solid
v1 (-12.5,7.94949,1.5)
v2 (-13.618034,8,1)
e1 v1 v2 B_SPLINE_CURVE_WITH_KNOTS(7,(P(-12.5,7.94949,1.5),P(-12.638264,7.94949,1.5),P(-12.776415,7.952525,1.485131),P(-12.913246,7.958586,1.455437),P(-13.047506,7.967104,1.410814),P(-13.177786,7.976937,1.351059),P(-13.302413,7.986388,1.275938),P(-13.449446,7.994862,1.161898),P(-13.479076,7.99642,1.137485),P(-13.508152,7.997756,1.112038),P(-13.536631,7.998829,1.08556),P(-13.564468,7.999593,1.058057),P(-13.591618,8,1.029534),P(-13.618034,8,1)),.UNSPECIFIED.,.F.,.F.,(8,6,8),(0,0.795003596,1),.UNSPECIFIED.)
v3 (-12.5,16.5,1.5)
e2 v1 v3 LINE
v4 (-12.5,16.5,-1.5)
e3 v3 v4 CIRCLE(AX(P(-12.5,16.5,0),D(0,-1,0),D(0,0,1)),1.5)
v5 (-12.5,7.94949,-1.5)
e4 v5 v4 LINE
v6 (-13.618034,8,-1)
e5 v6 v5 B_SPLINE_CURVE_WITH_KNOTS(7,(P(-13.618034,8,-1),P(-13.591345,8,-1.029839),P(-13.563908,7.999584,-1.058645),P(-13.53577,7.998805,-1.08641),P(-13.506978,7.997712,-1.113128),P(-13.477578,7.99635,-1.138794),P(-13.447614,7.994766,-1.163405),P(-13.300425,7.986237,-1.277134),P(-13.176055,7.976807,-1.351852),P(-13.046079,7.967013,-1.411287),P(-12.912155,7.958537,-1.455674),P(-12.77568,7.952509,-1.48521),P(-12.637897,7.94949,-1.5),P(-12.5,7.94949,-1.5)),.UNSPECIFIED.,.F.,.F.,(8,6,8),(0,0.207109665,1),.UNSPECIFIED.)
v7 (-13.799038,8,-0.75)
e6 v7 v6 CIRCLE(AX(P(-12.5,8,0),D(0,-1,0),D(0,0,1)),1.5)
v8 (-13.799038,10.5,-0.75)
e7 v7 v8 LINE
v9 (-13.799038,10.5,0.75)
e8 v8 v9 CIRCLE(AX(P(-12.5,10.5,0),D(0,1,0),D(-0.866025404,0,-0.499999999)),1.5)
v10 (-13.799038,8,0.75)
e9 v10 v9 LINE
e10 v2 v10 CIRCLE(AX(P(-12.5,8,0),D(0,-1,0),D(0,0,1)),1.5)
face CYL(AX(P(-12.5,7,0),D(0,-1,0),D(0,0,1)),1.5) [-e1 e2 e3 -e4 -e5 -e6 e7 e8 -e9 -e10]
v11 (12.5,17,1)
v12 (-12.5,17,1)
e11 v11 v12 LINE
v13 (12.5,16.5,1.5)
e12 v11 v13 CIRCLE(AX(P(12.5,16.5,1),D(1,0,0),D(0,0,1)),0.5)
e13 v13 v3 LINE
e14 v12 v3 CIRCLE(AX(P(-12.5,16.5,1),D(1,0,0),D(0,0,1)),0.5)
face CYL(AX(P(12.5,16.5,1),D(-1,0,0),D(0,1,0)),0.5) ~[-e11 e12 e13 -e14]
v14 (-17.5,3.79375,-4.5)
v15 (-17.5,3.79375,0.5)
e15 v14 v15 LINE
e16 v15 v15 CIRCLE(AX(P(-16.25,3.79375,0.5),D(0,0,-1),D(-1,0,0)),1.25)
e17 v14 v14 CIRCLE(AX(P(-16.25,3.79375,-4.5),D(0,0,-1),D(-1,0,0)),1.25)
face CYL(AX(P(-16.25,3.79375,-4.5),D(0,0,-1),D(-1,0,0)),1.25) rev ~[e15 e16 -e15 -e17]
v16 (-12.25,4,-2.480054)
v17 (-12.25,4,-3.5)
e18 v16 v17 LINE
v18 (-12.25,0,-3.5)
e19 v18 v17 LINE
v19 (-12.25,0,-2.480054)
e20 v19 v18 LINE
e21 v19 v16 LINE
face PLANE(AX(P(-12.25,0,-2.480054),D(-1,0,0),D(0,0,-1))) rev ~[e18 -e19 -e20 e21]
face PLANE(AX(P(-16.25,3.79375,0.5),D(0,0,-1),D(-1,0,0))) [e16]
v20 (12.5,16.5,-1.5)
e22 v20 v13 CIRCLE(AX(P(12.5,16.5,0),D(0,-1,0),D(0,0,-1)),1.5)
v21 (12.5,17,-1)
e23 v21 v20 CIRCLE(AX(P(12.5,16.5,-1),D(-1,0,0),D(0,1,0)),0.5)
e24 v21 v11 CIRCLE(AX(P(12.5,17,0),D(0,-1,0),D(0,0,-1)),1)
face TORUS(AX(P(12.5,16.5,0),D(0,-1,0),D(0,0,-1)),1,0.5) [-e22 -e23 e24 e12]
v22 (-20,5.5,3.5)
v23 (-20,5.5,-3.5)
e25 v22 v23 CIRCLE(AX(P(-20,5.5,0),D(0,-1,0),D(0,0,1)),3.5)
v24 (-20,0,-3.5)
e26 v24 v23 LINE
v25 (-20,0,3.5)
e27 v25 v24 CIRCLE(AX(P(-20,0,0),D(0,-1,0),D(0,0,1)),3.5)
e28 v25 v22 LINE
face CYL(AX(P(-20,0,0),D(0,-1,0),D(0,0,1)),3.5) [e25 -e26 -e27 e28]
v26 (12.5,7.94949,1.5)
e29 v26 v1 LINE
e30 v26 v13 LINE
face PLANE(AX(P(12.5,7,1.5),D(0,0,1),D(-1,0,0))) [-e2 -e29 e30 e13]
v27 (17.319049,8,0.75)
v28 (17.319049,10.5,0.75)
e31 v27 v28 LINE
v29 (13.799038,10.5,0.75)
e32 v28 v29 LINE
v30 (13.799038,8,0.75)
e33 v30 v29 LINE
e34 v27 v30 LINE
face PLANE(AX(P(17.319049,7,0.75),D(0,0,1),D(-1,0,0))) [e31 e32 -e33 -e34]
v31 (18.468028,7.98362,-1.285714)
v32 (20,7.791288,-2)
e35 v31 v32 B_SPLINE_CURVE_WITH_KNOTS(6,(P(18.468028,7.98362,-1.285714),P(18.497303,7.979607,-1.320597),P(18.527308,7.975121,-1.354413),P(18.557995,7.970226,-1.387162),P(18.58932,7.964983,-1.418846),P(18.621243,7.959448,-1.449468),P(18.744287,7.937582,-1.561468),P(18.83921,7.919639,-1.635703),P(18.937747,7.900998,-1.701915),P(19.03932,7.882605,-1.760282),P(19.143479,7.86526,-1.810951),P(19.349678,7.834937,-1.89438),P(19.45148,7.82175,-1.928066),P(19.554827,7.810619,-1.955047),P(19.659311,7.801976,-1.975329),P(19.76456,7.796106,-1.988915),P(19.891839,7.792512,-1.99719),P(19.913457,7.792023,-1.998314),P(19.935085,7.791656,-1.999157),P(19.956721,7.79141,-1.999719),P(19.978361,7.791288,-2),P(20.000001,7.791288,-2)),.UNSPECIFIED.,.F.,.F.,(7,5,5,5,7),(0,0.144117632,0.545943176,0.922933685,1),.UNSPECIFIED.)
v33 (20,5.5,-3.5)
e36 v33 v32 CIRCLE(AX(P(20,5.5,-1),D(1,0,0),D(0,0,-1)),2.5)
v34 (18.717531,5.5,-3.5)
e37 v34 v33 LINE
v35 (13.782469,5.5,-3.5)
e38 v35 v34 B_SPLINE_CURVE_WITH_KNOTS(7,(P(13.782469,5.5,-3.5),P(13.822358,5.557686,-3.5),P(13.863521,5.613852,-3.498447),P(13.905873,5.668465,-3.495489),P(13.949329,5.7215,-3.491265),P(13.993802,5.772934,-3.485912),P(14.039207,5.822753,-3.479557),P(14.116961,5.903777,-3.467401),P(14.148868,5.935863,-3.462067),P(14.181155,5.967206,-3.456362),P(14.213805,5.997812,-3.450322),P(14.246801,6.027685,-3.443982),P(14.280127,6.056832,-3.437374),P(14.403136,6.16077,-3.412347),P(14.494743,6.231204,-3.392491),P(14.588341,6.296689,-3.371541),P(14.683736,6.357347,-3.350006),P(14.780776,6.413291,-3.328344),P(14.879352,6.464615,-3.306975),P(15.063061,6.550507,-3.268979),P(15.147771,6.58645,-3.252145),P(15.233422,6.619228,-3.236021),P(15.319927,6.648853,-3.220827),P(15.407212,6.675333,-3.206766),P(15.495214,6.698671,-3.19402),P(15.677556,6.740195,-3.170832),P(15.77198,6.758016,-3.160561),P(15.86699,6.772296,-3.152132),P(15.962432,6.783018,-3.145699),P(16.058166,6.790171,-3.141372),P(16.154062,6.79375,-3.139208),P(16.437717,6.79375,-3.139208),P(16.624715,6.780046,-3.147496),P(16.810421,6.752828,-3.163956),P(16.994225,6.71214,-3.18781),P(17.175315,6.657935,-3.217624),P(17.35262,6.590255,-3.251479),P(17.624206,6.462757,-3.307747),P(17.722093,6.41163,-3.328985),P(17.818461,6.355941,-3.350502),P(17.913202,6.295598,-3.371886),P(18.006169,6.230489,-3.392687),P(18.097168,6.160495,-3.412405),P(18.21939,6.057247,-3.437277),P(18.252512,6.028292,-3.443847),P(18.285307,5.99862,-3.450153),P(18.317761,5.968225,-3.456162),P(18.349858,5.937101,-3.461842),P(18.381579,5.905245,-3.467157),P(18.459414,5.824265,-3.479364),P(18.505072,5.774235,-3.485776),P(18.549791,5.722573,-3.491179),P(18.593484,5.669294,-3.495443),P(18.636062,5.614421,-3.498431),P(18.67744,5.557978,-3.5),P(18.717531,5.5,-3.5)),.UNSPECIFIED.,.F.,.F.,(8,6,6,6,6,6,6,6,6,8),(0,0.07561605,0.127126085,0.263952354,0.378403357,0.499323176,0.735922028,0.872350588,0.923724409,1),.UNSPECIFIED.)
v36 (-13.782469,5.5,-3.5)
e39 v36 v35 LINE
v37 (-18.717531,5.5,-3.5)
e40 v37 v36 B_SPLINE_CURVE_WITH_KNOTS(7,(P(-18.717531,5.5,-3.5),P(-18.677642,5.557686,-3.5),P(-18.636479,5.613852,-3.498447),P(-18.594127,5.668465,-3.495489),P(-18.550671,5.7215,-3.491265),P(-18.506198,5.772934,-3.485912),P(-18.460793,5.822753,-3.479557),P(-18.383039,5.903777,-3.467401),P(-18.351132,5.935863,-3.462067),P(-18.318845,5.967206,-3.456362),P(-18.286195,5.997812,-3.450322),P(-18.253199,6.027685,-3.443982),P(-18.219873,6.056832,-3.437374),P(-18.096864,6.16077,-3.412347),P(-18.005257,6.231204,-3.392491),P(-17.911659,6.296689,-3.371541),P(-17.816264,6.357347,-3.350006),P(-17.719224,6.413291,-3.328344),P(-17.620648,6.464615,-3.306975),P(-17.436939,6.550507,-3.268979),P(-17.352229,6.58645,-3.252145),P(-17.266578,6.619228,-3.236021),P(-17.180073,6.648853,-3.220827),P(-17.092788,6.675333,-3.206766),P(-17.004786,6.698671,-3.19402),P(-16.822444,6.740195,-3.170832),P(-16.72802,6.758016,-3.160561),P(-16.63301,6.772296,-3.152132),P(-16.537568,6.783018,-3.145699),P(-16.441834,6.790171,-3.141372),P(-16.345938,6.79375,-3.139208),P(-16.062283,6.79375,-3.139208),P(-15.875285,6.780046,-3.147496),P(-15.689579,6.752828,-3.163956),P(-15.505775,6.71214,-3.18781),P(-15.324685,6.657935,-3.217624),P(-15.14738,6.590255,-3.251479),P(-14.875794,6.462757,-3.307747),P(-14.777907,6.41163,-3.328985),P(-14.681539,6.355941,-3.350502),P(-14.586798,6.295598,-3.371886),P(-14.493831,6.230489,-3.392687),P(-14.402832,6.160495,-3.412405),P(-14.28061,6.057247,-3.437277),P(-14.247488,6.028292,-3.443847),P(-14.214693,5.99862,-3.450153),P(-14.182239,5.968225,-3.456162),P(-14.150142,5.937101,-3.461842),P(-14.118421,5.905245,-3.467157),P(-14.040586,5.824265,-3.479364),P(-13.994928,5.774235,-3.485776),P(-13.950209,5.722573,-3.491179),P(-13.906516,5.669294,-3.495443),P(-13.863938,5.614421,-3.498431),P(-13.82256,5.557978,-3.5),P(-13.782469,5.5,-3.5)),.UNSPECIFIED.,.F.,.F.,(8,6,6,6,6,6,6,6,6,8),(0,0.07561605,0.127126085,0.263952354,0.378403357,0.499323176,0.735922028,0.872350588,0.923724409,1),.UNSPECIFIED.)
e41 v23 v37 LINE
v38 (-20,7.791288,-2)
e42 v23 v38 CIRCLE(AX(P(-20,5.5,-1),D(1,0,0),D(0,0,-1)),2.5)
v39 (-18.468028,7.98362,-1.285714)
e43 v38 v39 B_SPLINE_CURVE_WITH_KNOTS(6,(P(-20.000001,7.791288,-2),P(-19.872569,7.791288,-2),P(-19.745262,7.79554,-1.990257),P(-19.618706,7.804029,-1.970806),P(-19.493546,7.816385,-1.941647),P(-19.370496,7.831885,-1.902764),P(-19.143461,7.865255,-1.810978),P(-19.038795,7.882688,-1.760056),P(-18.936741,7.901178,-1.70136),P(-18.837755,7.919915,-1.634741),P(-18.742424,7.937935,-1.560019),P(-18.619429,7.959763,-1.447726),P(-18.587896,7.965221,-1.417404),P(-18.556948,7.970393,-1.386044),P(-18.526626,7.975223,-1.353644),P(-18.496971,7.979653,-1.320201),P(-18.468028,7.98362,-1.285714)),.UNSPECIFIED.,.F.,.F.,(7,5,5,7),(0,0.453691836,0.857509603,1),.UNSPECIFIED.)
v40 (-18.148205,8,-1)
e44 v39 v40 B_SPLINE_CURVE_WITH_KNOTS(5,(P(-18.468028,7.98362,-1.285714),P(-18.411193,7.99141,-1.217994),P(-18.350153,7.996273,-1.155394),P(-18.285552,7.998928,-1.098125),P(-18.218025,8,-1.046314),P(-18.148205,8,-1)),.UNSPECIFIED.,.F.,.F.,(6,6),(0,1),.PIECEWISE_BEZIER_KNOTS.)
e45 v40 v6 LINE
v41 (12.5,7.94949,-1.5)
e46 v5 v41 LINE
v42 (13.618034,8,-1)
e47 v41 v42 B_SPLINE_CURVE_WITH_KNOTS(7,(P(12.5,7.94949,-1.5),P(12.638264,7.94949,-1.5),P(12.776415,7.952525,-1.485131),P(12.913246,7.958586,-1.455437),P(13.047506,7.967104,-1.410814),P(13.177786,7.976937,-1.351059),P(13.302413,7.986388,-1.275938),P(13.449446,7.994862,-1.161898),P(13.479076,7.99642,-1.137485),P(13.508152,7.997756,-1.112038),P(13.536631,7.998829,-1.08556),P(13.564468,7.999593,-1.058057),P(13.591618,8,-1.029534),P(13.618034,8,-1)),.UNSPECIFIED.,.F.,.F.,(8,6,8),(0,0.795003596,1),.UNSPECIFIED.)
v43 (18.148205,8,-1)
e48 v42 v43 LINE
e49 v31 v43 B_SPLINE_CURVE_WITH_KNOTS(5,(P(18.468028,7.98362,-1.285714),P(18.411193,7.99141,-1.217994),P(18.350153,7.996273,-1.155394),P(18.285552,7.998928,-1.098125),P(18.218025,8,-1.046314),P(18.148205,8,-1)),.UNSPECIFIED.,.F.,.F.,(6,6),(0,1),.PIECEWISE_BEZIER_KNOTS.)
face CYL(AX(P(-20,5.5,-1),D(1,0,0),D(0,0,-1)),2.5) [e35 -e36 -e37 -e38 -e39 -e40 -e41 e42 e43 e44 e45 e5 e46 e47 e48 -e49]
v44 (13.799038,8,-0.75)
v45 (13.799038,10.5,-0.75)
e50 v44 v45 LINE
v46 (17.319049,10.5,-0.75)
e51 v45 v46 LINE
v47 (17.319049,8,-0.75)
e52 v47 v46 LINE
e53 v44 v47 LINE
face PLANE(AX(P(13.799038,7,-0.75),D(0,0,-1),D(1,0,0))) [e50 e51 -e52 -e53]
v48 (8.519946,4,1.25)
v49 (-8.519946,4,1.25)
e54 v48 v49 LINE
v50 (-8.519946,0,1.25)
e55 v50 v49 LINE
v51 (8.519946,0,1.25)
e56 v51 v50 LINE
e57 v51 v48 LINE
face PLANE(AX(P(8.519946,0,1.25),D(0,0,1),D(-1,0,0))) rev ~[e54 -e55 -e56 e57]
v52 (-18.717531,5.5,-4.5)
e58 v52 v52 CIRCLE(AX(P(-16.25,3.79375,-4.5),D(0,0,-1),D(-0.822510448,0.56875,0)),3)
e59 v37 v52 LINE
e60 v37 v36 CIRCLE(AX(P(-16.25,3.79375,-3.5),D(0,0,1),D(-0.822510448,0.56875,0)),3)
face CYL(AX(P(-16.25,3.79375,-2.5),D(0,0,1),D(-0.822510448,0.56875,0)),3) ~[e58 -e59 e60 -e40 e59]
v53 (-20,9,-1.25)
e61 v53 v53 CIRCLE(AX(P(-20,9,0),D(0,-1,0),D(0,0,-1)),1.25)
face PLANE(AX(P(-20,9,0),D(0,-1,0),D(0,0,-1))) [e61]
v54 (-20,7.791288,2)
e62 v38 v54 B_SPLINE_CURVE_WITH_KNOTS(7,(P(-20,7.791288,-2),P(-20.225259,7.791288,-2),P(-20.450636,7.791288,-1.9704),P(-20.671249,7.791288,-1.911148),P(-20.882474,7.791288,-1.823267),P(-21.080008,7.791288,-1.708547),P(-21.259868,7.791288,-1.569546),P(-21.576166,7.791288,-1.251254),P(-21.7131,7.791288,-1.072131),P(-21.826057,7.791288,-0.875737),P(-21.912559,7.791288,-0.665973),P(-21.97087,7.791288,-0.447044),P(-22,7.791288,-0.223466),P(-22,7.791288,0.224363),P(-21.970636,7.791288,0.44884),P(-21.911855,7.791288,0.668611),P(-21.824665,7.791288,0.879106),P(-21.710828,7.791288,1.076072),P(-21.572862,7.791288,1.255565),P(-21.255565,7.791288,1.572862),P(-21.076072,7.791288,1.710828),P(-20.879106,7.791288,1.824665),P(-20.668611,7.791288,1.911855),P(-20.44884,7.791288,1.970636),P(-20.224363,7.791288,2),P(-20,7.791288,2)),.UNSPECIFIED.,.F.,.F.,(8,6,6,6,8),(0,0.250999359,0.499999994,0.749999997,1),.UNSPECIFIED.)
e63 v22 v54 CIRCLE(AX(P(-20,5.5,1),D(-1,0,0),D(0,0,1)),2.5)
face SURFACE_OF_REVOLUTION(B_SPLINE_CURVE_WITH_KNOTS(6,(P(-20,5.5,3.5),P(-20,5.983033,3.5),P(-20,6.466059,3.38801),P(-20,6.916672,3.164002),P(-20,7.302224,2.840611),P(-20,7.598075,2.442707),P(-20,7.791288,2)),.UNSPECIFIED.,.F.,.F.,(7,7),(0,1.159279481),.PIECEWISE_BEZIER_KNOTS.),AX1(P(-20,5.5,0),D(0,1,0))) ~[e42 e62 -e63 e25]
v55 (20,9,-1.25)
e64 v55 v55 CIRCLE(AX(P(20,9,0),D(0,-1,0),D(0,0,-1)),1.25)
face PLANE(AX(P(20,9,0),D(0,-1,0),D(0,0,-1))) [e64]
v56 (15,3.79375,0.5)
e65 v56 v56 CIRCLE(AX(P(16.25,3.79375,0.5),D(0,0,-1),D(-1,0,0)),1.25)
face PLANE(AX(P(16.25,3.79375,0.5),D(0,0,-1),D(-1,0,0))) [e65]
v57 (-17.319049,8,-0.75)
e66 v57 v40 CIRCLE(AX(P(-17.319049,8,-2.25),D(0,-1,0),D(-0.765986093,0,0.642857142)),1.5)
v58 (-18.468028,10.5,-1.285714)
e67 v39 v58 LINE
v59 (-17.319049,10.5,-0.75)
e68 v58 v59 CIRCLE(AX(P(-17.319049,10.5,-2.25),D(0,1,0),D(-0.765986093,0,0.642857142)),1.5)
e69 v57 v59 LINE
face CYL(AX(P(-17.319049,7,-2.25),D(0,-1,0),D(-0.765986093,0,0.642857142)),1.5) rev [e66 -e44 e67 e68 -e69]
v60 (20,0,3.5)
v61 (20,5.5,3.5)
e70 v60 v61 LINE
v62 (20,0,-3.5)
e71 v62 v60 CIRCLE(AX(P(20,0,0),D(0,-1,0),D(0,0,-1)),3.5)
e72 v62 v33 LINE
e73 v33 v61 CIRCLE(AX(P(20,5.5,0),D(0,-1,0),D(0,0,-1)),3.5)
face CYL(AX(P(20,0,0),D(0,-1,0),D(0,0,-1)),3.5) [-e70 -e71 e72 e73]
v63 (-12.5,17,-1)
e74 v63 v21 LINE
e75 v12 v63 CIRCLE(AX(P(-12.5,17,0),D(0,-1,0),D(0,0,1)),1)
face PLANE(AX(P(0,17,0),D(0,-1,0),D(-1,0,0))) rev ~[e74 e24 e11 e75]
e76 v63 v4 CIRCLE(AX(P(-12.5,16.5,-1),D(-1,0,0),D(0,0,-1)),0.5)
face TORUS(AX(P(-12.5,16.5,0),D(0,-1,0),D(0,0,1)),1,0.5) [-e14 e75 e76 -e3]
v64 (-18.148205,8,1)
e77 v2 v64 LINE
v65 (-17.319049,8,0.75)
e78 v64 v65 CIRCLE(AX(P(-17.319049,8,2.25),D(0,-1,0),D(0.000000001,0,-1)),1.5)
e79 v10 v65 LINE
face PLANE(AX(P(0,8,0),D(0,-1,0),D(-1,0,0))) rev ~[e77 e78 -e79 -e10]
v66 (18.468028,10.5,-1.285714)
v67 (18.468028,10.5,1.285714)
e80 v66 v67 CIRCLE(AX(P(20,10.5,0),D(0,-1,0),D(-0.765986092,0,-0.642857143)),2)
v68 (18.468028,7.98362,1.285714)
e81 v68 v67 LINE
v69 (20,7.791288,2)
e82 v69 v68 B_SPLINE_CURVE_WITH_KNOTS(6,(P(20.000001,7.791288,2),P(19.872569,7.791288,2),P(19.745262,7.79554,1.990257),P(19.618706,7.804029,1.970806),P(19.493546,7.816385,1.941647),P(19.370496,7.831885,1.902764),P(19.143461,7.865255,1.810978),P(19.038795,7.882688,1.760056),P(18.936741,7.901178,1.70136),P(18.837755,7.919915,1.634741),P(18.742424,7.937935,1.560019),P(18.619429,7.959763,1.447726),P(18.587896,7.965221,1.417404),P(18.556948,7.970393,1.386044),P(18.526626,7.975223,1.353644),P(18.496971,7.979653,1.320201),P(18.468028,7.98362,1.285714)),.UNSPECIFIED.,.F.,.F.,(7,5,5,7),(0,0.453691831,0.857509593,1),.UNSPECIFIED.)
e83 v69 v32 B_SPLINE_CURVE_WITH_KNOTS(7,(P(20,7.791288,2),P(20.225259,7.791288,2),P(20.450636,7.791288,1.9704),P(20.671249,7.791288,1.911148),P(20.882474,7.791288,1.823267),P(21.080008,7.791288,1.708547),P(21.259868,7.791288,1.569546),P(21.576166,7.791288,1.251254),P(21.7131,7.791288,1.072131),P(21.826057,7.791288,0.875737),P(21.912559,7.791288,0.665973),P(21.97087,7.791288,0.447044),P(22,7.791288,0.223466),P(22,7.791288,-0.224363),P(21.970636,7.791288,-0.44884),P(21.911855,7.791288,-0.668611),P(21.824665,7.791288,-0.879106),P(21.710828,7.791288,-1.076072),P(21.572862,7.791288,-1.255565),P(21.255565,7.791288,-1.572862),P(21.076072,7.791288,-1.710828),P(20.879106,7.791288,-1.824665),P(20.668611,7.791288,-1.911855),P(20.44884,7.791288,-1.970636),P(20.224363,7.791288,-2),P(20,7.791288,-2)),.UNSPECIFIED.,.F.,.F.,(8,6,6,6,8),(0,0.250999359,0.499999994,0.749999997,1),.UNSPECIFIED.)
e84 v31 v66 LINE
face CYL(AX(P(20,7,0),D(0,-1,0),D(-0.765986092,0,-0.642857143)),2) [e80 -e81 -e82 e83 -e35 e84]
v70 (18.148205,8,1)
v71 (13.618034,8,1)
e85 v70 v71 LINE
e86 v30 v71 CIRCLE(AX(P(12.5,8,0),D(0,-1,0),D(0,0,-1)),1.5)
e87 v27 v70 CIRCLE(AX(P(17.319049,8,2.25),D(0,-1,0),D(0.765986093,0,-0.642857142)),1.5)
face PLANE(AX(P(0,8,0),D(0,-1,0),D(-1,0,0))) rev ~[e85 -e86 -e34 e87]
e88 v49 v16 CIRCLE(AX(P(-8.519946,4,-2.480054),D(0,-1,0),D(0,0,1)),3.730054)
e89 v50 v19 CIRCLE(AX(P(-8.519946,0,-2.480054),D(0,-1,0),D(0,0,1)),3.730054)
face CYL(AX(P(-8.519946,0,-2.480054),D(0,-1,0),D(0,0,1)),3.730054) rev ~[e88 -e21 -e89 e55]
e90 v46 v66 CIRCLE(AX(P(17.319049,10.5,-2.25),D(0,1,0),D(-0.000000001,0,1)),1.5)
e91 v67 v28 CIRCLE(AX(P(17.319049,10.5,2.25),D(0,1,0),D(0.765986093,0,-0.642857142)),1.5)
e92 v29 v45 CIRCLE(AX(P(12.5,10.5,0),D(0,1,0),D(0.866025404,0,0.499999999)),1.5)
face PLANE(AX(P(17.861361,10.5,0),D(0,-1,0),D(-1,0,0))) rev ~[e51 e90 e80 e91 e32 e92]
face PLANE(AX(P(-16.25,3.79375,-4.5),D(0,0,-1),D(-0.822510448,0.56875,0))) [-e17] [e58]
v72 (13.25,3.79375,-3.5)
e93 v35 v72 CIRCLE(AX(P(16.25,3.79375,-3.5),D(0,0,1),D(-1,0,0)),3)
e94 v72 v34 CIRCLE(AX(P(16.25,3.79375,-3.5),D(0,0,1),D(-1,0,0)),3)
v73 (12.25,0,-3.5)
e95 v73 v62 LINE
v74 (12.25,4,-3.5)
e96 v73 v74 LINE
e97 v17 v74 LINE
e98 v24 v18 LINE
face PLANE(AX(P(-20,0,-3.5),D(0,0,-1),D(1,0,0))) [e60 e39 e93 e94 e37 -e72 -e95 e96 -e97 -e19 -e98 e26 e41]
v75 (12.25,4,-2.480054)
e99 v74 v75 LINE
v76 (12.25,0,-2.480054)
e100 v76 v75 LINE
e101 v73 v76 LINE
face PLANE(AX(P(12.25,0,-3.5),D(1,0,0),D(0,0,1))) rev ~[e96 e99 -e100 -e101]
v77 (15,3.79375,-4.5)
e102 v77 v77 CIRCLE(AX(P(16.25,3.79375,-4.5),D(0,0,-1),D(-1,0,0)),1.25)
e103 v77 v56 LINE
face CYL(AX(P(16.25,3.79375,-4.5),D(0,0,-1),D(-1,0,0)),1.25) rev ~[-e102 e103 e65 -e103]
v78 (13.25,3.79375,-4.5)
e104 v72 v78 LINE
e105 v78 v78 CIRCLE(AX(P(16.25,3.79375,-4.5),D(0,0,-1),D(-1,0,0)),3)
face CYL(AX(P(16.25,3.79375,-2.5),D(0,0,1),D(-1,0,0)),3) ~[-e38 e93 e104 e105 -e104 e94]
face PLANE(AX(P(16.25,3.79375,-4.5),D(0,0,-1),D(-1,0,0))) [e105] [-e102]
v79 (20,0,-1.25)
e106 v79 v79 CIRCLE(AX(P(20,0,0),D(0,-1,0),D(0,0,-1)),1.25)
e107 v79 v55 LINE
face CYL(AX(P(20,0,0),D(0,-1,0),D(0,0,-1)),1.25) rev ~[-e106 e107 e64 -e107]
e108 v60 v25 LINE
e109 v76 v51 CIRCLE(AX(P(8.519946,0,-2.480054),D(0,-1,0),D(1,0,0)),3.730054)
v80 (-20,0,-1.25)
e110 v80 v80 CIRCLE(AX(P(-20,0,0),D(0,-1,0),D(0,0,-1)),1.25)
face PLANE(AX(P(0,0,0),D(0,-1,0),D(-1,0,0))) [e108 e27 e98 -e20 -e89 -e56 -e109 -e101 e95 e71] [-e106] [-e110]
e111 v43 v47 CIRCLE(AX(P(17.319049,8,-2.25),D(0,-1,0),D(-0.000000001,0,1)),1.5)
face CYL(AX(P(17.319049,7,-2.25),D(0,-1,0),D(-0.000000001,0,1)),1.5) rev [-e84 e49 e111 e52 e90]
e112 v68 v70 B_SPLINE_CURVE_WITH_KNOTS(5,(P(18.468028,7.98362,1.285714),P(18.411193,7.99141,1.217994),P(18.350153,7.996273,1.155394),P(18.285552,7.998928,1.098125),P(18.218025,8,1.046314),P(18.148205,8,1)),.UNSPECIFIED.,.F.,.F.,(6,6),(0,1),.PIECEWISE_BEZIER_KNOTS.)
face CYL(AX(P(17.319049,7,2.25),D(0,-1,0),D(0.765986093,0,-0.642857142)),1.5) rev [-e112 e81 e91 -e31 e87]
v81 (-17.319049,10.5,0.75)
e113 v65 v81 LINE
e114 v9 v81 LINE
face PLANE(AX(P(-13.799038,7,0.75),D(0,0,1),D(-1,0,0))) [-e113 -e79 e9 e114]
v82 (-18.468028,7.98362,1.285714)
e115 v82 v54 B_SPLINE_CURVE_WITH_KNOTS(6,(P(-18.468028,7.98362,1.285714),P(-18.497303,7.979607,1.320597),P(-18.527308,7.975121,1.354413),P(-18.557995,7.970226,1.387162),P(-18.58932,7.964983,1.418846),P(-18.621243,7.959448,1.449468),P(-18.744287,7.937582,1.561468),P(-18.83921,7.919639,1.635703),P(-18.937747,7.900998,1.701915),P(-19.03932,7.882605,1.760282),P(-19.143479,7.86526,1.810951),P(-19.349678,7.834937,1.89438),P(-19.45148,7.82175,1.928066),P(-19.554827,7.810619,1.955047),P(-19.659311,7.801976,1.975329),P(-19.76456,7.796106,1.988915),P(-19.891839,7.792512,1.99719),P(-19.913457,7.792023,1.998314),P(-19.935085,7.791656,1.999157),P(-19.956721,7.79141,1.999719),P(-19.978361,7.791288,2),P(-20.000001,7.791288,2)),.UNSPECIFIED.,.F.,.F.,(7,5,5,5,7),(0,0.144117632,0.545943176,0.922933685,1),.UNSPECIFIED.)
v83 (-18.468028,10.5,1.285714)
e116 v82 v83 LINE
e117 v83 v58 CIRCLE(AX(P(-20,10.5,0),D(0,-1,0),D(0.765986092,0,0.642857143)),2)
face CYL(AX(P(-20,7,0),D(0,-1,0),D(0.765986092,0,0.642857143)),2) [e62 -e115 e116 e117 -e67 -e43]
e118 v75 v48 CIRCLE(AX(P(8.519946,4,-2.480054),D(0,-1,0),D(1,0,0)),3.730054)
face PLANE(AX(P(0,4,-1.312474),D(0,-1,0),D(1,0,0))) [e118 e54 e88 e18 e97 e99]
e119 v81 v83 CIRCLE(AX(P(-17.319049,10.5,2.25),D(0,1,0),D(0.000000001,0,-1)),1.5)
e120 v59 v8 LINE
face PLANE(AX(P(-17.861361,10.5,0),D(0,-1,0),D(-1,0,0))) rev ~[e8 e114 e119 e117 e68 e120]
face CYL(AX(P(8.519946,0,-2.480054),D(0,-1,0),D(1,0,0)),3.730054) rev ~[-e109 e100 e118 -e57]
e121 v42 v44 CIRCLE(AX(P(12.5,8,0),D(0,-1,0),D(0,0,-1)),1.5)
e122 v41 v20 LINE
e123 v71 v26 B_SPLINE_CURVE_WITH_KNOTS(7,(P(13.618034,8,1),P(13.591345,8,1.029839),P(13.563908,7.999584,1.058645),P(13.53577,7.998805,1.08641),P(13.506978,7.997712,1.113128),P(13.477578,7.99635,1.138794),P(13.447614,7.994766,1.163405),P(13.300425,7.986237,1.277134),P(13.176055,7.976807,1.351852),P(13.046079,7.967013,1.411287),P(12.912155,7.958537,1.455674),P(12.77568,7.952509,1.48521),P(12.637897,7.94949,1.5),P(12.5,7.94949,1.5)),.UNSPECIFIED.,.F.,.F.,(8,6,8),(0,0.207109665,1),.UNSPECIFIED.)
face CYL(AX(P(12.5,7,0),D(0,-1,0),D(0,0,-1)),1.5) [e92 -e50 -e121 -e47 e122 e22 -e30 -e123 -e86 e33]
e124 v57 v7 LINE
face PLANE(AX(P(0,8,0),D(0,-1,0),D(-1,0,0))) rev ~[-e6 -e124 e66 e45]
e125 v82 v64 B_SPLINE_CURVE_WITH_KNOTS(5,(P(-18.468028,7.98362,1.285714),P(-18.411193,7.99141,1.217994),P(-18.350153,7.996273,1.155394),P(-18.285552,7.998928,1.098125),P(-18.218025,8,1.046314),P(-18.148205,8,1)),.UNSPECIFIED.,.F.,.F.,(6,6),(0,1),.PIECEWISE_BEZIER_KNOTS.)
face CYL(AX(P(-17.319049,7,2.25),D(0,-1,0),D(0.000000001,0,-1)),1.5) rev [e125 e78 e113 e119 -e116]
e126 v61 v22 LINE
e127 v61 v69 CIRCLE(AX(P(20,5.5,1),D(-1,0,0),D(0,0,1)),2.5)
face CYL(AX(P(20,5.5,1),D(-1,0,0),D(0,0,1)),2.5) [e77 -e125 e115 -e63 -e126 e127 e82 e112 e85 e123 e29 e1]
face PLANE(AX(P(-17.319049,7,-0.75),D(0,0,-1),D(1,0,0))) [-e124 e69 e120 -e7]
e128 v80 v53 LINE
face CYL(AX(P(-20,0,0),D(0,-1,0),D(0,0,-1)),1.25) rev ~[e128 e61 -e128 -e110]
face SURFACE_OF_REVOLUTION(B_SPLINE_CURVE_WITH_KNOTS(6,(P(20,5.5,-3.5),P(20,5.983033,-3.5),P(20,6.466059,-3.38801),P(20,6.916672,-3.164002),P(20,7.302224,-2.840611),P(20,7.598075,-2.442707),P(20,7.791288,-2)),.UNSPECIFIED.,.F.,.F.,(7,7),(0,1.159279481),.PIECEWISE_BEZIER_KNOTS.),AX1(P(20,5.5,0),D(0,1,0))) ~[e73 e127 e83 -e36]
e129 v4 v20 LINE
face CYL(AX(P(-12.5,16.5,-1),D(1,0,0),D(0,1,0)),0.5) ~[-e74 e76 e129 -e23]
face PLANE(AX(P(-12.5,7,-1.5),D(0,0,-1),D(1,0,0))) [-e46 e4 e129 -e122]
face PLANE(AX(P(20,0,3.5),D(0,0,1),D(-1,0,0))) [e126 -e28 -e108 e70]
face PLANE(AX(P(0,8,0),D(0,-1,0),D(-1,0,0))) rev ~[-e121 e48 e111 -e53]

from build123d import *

# Parameters (mm, degrees)
BOSS_EXTRUDE1_DEPTH      = 8
FILLET1_R                = 2.5
BOSS_EXTRUDE2_DEPTH      = 9
BOSS_EXTRUDE2_DEPTH_BACK = 1
FILLET2_R                = 0.5
BOSS_EXTRUDE3_DEPTH      = 2.5
BOSS_EXTRUDE3_DEPTH_BACK = 1
SKETCH4_R                = 1.25
CUT_EXTRUDE1_DEPTH       = 9
CUT_EXTRUDE2_DEPTH       = 4
BOSS_EXTRUDE4_DEPTH      = 1
BOSS_EXTRUDE4_DEPTH_BACK = 1
SKETCH6_R                = 3
SKETCH7_R                = 1.25
CUT_EXTRUDE3_DEPTH       = 5


with BuildPart() as part:
    # Sketch1 → Boss-Extrude1 (new body)
    with BuildSketch(Plane(origin=(0, 0, 0), x_dir=(1, 0, 0), z_dir=(0, 1, 0))):
        with BuildLine():
            Line((-20, 3.5), (20, 3.5))
            ThreePointArc((20, 3.5), (23.5, 0), (20, -3.5))
            Line((20, -3.5), (-20, -3.5))
            ThreePointArc((-20, -3.5), (-23.5, 0), (-20, 3.5))
        make_face()
    extrude(amount=BOSS_EXTRUDE1_DEPTH)

    # Fillet1
    fillet1_edges = [part.edges().sort_by_distance(p)[0] for p in [
        (23.5, 8, 0),
        (0, 8, -3.5),
        (-23.5, 8, 0),
        (0, 8, 3.5),
    ]]
    fillet(fillet1_edges, radius=FILLET1_R)

    # Sketch2 → Boss-Extrude2 (add, two sides: drawn at the far end of the back side and taken through both)
    with BuildSketch(Plane(origin=(0, 8, 0), x_dir=(1, 0, 0), z_dir=(0, 1, 0)).offset(-BOSS_EXTRUDE2_DEPTH_BACK)):
        with BuildLine():
            Line((-12.5, 1.5), (12.5, 1.5))
            ThreePointArc((12.5, 1.5), (14, 0), (12.5, -1.5))
            Line((12.5, -1.5), (-12.5, -1.5))
            ThreePointArc((-12.5, -1.5), (-14, 0), (-12.5, 1.5))
        make_face()
    extrude(amount=BOSS_EXTRUDE2_DEPTH + BOSS_EXTRUDE2_DEPTH_BACK)

    # Fillet2
    fillet2_edges = [part.edges().sort_by_distance(p)[0] for p in [
        (-14, 17, 0),
        (0, 17, 1.5),
        (14, 17, 0),
        (0, 17, -1.5),
    ]]
    fillet(fillet2_edges, radius=FILLET2_R)

    # Sketch3 → Boss-Extrude3 (add, two sides: drawn at the far end of the back side and taken through both)
    with BuildSketch(Plane(origin=(0, 8, 0), x_dir=(1, 0, 0), z_dir=(0, 1, 0)).offset(-BOSS_EXTRUDE3_DEPTH_BACK)):
        with BuildLine():
            Line((-17.319048676, 0.75), (-13.799038106, 0.75))
            ThreePointArc((-13.799038106, 0.75), (-14, 0), (-13.799038106, -0.75))
            Line((-13.799038106, -0.75), (-17.319048676, -0.75))
            ThreePointArc((-17.319048676, -0.75), (-17.952914367, -0.890509549), (-18.468027815, -1.285714286))
            ThreePointArc((-18.468027815, -1.285714286), (-22, 0), (-18.468027815, 1.285714286))
            ThreePointArc((-18.468027815, 1.285714286), (-17.952914367, 0.890509549), (-17.319048676, 0.75))
        make_face()
        with BuildLine():
            Line((17.319048676, -0.75), (13.799038106, -0.75))
            ThreePointArc((13.799038106, -0.75), (14, 0), (13.799038106, 0.75))
            Line((13.799038106, 0.75), (17.319048676, 0.75))
            ThreePointArc((17.319048676, 0.75), (17.952914367, 0.890509549), (18.468027815, 1.285714286))
            ThreePointArc((18.468027815, 1.285714286), (22, 0), (18.468027815, -1.285714286))
            ThreePointArc((18.468027815, -1.285714286), (17.952914367, -0.890509549), (17.319048676, -0.75))
        make_face()
    extrude(amount=BOSS_EXTRUDE3_DEPTH + BOSS_EXTRUDE3_DEPTH_BACK)

    # Sketch4 → Cut-Extrude1 (cut)
    with BuildSketch(Plane.XZ):
        with Locations(Location((20, 0, 0), (0, 0, 270))):
            Circle(SKETCH4_R)
        with Locations(Location((-20, 0, 0), (0, 0, 270))):
            Circle(SKETCH4_R)
    extrude(amount=-CUT_EXTRUDE1_DEPTH, mode=Mode.SUBTRACT)

    # Sketch5 → Cut-Extrude2 (cut)
    with BuildSketch(Plane.XZ):
        with BuildLine():
            Line((8.51994599, 1.25), (-8.51994599, 1.25))
            ThreePointArc((-8.51994599, 1.25), (-11.157492475, 0.157492475), (-12.25, -2.48005401))
            Line((-12.25, -2.48005401), (-12.25, -3.5))
            Line((-12.25, -3.5), (12.25, -3.5))
            Line((12.25, -3.5), (12.25, -2.48005401))
            ThreePointArc((12.25, -2.48005401), (11.157492475, 0.157492475), (8.51994599, 1.25))
        make_face()
    extrude(amount=-CUT_EXTRUDE2_DEPTH, mode=Mode.SUBTRACT)

    # Sketch6 → Boss-Extrude4 (add, two sides: drawn at the far end of the back side and taken through both)
    with BuildSketch(Plane(origin=(0, 0, -3.5), x_dir=(-1, 0, 0), z_dir=(0, 0, -1)).offset(-BOSS_EXTRUDE4_DEPTH_BACK)):
        with Locations((-16.25, 3.79375)):
            Circle(SKETCH6_R)
        with Locations(Location((16.25, 3.79375, 0), (0, 0, 34.663105373))):
            Circle(SKETCH6_R)
    extrude(amount=BOSS_EXTRUDE4_DEPTH + BOSS_EXTRUDE4_DEPTH_BACK)

    # Sketch7 → Cut-Extrude3 (cut)
    with BuildSketch(Plane(origin=(0, 0, -4.5), x_dir=(-1, 0, 0), z_dir=(0, 0, -1))):
        with Locations((-16.25, 3.79375)):
            Circle(SKETCH7_R)
        with Locations((16.25, 3.79375)):
            Circle(SKETCH7_R)
    extrude(amount=-CUT_EXTRUDE3_DEPTH, mode=Mode.SUBTRACT)


solid = part.part
